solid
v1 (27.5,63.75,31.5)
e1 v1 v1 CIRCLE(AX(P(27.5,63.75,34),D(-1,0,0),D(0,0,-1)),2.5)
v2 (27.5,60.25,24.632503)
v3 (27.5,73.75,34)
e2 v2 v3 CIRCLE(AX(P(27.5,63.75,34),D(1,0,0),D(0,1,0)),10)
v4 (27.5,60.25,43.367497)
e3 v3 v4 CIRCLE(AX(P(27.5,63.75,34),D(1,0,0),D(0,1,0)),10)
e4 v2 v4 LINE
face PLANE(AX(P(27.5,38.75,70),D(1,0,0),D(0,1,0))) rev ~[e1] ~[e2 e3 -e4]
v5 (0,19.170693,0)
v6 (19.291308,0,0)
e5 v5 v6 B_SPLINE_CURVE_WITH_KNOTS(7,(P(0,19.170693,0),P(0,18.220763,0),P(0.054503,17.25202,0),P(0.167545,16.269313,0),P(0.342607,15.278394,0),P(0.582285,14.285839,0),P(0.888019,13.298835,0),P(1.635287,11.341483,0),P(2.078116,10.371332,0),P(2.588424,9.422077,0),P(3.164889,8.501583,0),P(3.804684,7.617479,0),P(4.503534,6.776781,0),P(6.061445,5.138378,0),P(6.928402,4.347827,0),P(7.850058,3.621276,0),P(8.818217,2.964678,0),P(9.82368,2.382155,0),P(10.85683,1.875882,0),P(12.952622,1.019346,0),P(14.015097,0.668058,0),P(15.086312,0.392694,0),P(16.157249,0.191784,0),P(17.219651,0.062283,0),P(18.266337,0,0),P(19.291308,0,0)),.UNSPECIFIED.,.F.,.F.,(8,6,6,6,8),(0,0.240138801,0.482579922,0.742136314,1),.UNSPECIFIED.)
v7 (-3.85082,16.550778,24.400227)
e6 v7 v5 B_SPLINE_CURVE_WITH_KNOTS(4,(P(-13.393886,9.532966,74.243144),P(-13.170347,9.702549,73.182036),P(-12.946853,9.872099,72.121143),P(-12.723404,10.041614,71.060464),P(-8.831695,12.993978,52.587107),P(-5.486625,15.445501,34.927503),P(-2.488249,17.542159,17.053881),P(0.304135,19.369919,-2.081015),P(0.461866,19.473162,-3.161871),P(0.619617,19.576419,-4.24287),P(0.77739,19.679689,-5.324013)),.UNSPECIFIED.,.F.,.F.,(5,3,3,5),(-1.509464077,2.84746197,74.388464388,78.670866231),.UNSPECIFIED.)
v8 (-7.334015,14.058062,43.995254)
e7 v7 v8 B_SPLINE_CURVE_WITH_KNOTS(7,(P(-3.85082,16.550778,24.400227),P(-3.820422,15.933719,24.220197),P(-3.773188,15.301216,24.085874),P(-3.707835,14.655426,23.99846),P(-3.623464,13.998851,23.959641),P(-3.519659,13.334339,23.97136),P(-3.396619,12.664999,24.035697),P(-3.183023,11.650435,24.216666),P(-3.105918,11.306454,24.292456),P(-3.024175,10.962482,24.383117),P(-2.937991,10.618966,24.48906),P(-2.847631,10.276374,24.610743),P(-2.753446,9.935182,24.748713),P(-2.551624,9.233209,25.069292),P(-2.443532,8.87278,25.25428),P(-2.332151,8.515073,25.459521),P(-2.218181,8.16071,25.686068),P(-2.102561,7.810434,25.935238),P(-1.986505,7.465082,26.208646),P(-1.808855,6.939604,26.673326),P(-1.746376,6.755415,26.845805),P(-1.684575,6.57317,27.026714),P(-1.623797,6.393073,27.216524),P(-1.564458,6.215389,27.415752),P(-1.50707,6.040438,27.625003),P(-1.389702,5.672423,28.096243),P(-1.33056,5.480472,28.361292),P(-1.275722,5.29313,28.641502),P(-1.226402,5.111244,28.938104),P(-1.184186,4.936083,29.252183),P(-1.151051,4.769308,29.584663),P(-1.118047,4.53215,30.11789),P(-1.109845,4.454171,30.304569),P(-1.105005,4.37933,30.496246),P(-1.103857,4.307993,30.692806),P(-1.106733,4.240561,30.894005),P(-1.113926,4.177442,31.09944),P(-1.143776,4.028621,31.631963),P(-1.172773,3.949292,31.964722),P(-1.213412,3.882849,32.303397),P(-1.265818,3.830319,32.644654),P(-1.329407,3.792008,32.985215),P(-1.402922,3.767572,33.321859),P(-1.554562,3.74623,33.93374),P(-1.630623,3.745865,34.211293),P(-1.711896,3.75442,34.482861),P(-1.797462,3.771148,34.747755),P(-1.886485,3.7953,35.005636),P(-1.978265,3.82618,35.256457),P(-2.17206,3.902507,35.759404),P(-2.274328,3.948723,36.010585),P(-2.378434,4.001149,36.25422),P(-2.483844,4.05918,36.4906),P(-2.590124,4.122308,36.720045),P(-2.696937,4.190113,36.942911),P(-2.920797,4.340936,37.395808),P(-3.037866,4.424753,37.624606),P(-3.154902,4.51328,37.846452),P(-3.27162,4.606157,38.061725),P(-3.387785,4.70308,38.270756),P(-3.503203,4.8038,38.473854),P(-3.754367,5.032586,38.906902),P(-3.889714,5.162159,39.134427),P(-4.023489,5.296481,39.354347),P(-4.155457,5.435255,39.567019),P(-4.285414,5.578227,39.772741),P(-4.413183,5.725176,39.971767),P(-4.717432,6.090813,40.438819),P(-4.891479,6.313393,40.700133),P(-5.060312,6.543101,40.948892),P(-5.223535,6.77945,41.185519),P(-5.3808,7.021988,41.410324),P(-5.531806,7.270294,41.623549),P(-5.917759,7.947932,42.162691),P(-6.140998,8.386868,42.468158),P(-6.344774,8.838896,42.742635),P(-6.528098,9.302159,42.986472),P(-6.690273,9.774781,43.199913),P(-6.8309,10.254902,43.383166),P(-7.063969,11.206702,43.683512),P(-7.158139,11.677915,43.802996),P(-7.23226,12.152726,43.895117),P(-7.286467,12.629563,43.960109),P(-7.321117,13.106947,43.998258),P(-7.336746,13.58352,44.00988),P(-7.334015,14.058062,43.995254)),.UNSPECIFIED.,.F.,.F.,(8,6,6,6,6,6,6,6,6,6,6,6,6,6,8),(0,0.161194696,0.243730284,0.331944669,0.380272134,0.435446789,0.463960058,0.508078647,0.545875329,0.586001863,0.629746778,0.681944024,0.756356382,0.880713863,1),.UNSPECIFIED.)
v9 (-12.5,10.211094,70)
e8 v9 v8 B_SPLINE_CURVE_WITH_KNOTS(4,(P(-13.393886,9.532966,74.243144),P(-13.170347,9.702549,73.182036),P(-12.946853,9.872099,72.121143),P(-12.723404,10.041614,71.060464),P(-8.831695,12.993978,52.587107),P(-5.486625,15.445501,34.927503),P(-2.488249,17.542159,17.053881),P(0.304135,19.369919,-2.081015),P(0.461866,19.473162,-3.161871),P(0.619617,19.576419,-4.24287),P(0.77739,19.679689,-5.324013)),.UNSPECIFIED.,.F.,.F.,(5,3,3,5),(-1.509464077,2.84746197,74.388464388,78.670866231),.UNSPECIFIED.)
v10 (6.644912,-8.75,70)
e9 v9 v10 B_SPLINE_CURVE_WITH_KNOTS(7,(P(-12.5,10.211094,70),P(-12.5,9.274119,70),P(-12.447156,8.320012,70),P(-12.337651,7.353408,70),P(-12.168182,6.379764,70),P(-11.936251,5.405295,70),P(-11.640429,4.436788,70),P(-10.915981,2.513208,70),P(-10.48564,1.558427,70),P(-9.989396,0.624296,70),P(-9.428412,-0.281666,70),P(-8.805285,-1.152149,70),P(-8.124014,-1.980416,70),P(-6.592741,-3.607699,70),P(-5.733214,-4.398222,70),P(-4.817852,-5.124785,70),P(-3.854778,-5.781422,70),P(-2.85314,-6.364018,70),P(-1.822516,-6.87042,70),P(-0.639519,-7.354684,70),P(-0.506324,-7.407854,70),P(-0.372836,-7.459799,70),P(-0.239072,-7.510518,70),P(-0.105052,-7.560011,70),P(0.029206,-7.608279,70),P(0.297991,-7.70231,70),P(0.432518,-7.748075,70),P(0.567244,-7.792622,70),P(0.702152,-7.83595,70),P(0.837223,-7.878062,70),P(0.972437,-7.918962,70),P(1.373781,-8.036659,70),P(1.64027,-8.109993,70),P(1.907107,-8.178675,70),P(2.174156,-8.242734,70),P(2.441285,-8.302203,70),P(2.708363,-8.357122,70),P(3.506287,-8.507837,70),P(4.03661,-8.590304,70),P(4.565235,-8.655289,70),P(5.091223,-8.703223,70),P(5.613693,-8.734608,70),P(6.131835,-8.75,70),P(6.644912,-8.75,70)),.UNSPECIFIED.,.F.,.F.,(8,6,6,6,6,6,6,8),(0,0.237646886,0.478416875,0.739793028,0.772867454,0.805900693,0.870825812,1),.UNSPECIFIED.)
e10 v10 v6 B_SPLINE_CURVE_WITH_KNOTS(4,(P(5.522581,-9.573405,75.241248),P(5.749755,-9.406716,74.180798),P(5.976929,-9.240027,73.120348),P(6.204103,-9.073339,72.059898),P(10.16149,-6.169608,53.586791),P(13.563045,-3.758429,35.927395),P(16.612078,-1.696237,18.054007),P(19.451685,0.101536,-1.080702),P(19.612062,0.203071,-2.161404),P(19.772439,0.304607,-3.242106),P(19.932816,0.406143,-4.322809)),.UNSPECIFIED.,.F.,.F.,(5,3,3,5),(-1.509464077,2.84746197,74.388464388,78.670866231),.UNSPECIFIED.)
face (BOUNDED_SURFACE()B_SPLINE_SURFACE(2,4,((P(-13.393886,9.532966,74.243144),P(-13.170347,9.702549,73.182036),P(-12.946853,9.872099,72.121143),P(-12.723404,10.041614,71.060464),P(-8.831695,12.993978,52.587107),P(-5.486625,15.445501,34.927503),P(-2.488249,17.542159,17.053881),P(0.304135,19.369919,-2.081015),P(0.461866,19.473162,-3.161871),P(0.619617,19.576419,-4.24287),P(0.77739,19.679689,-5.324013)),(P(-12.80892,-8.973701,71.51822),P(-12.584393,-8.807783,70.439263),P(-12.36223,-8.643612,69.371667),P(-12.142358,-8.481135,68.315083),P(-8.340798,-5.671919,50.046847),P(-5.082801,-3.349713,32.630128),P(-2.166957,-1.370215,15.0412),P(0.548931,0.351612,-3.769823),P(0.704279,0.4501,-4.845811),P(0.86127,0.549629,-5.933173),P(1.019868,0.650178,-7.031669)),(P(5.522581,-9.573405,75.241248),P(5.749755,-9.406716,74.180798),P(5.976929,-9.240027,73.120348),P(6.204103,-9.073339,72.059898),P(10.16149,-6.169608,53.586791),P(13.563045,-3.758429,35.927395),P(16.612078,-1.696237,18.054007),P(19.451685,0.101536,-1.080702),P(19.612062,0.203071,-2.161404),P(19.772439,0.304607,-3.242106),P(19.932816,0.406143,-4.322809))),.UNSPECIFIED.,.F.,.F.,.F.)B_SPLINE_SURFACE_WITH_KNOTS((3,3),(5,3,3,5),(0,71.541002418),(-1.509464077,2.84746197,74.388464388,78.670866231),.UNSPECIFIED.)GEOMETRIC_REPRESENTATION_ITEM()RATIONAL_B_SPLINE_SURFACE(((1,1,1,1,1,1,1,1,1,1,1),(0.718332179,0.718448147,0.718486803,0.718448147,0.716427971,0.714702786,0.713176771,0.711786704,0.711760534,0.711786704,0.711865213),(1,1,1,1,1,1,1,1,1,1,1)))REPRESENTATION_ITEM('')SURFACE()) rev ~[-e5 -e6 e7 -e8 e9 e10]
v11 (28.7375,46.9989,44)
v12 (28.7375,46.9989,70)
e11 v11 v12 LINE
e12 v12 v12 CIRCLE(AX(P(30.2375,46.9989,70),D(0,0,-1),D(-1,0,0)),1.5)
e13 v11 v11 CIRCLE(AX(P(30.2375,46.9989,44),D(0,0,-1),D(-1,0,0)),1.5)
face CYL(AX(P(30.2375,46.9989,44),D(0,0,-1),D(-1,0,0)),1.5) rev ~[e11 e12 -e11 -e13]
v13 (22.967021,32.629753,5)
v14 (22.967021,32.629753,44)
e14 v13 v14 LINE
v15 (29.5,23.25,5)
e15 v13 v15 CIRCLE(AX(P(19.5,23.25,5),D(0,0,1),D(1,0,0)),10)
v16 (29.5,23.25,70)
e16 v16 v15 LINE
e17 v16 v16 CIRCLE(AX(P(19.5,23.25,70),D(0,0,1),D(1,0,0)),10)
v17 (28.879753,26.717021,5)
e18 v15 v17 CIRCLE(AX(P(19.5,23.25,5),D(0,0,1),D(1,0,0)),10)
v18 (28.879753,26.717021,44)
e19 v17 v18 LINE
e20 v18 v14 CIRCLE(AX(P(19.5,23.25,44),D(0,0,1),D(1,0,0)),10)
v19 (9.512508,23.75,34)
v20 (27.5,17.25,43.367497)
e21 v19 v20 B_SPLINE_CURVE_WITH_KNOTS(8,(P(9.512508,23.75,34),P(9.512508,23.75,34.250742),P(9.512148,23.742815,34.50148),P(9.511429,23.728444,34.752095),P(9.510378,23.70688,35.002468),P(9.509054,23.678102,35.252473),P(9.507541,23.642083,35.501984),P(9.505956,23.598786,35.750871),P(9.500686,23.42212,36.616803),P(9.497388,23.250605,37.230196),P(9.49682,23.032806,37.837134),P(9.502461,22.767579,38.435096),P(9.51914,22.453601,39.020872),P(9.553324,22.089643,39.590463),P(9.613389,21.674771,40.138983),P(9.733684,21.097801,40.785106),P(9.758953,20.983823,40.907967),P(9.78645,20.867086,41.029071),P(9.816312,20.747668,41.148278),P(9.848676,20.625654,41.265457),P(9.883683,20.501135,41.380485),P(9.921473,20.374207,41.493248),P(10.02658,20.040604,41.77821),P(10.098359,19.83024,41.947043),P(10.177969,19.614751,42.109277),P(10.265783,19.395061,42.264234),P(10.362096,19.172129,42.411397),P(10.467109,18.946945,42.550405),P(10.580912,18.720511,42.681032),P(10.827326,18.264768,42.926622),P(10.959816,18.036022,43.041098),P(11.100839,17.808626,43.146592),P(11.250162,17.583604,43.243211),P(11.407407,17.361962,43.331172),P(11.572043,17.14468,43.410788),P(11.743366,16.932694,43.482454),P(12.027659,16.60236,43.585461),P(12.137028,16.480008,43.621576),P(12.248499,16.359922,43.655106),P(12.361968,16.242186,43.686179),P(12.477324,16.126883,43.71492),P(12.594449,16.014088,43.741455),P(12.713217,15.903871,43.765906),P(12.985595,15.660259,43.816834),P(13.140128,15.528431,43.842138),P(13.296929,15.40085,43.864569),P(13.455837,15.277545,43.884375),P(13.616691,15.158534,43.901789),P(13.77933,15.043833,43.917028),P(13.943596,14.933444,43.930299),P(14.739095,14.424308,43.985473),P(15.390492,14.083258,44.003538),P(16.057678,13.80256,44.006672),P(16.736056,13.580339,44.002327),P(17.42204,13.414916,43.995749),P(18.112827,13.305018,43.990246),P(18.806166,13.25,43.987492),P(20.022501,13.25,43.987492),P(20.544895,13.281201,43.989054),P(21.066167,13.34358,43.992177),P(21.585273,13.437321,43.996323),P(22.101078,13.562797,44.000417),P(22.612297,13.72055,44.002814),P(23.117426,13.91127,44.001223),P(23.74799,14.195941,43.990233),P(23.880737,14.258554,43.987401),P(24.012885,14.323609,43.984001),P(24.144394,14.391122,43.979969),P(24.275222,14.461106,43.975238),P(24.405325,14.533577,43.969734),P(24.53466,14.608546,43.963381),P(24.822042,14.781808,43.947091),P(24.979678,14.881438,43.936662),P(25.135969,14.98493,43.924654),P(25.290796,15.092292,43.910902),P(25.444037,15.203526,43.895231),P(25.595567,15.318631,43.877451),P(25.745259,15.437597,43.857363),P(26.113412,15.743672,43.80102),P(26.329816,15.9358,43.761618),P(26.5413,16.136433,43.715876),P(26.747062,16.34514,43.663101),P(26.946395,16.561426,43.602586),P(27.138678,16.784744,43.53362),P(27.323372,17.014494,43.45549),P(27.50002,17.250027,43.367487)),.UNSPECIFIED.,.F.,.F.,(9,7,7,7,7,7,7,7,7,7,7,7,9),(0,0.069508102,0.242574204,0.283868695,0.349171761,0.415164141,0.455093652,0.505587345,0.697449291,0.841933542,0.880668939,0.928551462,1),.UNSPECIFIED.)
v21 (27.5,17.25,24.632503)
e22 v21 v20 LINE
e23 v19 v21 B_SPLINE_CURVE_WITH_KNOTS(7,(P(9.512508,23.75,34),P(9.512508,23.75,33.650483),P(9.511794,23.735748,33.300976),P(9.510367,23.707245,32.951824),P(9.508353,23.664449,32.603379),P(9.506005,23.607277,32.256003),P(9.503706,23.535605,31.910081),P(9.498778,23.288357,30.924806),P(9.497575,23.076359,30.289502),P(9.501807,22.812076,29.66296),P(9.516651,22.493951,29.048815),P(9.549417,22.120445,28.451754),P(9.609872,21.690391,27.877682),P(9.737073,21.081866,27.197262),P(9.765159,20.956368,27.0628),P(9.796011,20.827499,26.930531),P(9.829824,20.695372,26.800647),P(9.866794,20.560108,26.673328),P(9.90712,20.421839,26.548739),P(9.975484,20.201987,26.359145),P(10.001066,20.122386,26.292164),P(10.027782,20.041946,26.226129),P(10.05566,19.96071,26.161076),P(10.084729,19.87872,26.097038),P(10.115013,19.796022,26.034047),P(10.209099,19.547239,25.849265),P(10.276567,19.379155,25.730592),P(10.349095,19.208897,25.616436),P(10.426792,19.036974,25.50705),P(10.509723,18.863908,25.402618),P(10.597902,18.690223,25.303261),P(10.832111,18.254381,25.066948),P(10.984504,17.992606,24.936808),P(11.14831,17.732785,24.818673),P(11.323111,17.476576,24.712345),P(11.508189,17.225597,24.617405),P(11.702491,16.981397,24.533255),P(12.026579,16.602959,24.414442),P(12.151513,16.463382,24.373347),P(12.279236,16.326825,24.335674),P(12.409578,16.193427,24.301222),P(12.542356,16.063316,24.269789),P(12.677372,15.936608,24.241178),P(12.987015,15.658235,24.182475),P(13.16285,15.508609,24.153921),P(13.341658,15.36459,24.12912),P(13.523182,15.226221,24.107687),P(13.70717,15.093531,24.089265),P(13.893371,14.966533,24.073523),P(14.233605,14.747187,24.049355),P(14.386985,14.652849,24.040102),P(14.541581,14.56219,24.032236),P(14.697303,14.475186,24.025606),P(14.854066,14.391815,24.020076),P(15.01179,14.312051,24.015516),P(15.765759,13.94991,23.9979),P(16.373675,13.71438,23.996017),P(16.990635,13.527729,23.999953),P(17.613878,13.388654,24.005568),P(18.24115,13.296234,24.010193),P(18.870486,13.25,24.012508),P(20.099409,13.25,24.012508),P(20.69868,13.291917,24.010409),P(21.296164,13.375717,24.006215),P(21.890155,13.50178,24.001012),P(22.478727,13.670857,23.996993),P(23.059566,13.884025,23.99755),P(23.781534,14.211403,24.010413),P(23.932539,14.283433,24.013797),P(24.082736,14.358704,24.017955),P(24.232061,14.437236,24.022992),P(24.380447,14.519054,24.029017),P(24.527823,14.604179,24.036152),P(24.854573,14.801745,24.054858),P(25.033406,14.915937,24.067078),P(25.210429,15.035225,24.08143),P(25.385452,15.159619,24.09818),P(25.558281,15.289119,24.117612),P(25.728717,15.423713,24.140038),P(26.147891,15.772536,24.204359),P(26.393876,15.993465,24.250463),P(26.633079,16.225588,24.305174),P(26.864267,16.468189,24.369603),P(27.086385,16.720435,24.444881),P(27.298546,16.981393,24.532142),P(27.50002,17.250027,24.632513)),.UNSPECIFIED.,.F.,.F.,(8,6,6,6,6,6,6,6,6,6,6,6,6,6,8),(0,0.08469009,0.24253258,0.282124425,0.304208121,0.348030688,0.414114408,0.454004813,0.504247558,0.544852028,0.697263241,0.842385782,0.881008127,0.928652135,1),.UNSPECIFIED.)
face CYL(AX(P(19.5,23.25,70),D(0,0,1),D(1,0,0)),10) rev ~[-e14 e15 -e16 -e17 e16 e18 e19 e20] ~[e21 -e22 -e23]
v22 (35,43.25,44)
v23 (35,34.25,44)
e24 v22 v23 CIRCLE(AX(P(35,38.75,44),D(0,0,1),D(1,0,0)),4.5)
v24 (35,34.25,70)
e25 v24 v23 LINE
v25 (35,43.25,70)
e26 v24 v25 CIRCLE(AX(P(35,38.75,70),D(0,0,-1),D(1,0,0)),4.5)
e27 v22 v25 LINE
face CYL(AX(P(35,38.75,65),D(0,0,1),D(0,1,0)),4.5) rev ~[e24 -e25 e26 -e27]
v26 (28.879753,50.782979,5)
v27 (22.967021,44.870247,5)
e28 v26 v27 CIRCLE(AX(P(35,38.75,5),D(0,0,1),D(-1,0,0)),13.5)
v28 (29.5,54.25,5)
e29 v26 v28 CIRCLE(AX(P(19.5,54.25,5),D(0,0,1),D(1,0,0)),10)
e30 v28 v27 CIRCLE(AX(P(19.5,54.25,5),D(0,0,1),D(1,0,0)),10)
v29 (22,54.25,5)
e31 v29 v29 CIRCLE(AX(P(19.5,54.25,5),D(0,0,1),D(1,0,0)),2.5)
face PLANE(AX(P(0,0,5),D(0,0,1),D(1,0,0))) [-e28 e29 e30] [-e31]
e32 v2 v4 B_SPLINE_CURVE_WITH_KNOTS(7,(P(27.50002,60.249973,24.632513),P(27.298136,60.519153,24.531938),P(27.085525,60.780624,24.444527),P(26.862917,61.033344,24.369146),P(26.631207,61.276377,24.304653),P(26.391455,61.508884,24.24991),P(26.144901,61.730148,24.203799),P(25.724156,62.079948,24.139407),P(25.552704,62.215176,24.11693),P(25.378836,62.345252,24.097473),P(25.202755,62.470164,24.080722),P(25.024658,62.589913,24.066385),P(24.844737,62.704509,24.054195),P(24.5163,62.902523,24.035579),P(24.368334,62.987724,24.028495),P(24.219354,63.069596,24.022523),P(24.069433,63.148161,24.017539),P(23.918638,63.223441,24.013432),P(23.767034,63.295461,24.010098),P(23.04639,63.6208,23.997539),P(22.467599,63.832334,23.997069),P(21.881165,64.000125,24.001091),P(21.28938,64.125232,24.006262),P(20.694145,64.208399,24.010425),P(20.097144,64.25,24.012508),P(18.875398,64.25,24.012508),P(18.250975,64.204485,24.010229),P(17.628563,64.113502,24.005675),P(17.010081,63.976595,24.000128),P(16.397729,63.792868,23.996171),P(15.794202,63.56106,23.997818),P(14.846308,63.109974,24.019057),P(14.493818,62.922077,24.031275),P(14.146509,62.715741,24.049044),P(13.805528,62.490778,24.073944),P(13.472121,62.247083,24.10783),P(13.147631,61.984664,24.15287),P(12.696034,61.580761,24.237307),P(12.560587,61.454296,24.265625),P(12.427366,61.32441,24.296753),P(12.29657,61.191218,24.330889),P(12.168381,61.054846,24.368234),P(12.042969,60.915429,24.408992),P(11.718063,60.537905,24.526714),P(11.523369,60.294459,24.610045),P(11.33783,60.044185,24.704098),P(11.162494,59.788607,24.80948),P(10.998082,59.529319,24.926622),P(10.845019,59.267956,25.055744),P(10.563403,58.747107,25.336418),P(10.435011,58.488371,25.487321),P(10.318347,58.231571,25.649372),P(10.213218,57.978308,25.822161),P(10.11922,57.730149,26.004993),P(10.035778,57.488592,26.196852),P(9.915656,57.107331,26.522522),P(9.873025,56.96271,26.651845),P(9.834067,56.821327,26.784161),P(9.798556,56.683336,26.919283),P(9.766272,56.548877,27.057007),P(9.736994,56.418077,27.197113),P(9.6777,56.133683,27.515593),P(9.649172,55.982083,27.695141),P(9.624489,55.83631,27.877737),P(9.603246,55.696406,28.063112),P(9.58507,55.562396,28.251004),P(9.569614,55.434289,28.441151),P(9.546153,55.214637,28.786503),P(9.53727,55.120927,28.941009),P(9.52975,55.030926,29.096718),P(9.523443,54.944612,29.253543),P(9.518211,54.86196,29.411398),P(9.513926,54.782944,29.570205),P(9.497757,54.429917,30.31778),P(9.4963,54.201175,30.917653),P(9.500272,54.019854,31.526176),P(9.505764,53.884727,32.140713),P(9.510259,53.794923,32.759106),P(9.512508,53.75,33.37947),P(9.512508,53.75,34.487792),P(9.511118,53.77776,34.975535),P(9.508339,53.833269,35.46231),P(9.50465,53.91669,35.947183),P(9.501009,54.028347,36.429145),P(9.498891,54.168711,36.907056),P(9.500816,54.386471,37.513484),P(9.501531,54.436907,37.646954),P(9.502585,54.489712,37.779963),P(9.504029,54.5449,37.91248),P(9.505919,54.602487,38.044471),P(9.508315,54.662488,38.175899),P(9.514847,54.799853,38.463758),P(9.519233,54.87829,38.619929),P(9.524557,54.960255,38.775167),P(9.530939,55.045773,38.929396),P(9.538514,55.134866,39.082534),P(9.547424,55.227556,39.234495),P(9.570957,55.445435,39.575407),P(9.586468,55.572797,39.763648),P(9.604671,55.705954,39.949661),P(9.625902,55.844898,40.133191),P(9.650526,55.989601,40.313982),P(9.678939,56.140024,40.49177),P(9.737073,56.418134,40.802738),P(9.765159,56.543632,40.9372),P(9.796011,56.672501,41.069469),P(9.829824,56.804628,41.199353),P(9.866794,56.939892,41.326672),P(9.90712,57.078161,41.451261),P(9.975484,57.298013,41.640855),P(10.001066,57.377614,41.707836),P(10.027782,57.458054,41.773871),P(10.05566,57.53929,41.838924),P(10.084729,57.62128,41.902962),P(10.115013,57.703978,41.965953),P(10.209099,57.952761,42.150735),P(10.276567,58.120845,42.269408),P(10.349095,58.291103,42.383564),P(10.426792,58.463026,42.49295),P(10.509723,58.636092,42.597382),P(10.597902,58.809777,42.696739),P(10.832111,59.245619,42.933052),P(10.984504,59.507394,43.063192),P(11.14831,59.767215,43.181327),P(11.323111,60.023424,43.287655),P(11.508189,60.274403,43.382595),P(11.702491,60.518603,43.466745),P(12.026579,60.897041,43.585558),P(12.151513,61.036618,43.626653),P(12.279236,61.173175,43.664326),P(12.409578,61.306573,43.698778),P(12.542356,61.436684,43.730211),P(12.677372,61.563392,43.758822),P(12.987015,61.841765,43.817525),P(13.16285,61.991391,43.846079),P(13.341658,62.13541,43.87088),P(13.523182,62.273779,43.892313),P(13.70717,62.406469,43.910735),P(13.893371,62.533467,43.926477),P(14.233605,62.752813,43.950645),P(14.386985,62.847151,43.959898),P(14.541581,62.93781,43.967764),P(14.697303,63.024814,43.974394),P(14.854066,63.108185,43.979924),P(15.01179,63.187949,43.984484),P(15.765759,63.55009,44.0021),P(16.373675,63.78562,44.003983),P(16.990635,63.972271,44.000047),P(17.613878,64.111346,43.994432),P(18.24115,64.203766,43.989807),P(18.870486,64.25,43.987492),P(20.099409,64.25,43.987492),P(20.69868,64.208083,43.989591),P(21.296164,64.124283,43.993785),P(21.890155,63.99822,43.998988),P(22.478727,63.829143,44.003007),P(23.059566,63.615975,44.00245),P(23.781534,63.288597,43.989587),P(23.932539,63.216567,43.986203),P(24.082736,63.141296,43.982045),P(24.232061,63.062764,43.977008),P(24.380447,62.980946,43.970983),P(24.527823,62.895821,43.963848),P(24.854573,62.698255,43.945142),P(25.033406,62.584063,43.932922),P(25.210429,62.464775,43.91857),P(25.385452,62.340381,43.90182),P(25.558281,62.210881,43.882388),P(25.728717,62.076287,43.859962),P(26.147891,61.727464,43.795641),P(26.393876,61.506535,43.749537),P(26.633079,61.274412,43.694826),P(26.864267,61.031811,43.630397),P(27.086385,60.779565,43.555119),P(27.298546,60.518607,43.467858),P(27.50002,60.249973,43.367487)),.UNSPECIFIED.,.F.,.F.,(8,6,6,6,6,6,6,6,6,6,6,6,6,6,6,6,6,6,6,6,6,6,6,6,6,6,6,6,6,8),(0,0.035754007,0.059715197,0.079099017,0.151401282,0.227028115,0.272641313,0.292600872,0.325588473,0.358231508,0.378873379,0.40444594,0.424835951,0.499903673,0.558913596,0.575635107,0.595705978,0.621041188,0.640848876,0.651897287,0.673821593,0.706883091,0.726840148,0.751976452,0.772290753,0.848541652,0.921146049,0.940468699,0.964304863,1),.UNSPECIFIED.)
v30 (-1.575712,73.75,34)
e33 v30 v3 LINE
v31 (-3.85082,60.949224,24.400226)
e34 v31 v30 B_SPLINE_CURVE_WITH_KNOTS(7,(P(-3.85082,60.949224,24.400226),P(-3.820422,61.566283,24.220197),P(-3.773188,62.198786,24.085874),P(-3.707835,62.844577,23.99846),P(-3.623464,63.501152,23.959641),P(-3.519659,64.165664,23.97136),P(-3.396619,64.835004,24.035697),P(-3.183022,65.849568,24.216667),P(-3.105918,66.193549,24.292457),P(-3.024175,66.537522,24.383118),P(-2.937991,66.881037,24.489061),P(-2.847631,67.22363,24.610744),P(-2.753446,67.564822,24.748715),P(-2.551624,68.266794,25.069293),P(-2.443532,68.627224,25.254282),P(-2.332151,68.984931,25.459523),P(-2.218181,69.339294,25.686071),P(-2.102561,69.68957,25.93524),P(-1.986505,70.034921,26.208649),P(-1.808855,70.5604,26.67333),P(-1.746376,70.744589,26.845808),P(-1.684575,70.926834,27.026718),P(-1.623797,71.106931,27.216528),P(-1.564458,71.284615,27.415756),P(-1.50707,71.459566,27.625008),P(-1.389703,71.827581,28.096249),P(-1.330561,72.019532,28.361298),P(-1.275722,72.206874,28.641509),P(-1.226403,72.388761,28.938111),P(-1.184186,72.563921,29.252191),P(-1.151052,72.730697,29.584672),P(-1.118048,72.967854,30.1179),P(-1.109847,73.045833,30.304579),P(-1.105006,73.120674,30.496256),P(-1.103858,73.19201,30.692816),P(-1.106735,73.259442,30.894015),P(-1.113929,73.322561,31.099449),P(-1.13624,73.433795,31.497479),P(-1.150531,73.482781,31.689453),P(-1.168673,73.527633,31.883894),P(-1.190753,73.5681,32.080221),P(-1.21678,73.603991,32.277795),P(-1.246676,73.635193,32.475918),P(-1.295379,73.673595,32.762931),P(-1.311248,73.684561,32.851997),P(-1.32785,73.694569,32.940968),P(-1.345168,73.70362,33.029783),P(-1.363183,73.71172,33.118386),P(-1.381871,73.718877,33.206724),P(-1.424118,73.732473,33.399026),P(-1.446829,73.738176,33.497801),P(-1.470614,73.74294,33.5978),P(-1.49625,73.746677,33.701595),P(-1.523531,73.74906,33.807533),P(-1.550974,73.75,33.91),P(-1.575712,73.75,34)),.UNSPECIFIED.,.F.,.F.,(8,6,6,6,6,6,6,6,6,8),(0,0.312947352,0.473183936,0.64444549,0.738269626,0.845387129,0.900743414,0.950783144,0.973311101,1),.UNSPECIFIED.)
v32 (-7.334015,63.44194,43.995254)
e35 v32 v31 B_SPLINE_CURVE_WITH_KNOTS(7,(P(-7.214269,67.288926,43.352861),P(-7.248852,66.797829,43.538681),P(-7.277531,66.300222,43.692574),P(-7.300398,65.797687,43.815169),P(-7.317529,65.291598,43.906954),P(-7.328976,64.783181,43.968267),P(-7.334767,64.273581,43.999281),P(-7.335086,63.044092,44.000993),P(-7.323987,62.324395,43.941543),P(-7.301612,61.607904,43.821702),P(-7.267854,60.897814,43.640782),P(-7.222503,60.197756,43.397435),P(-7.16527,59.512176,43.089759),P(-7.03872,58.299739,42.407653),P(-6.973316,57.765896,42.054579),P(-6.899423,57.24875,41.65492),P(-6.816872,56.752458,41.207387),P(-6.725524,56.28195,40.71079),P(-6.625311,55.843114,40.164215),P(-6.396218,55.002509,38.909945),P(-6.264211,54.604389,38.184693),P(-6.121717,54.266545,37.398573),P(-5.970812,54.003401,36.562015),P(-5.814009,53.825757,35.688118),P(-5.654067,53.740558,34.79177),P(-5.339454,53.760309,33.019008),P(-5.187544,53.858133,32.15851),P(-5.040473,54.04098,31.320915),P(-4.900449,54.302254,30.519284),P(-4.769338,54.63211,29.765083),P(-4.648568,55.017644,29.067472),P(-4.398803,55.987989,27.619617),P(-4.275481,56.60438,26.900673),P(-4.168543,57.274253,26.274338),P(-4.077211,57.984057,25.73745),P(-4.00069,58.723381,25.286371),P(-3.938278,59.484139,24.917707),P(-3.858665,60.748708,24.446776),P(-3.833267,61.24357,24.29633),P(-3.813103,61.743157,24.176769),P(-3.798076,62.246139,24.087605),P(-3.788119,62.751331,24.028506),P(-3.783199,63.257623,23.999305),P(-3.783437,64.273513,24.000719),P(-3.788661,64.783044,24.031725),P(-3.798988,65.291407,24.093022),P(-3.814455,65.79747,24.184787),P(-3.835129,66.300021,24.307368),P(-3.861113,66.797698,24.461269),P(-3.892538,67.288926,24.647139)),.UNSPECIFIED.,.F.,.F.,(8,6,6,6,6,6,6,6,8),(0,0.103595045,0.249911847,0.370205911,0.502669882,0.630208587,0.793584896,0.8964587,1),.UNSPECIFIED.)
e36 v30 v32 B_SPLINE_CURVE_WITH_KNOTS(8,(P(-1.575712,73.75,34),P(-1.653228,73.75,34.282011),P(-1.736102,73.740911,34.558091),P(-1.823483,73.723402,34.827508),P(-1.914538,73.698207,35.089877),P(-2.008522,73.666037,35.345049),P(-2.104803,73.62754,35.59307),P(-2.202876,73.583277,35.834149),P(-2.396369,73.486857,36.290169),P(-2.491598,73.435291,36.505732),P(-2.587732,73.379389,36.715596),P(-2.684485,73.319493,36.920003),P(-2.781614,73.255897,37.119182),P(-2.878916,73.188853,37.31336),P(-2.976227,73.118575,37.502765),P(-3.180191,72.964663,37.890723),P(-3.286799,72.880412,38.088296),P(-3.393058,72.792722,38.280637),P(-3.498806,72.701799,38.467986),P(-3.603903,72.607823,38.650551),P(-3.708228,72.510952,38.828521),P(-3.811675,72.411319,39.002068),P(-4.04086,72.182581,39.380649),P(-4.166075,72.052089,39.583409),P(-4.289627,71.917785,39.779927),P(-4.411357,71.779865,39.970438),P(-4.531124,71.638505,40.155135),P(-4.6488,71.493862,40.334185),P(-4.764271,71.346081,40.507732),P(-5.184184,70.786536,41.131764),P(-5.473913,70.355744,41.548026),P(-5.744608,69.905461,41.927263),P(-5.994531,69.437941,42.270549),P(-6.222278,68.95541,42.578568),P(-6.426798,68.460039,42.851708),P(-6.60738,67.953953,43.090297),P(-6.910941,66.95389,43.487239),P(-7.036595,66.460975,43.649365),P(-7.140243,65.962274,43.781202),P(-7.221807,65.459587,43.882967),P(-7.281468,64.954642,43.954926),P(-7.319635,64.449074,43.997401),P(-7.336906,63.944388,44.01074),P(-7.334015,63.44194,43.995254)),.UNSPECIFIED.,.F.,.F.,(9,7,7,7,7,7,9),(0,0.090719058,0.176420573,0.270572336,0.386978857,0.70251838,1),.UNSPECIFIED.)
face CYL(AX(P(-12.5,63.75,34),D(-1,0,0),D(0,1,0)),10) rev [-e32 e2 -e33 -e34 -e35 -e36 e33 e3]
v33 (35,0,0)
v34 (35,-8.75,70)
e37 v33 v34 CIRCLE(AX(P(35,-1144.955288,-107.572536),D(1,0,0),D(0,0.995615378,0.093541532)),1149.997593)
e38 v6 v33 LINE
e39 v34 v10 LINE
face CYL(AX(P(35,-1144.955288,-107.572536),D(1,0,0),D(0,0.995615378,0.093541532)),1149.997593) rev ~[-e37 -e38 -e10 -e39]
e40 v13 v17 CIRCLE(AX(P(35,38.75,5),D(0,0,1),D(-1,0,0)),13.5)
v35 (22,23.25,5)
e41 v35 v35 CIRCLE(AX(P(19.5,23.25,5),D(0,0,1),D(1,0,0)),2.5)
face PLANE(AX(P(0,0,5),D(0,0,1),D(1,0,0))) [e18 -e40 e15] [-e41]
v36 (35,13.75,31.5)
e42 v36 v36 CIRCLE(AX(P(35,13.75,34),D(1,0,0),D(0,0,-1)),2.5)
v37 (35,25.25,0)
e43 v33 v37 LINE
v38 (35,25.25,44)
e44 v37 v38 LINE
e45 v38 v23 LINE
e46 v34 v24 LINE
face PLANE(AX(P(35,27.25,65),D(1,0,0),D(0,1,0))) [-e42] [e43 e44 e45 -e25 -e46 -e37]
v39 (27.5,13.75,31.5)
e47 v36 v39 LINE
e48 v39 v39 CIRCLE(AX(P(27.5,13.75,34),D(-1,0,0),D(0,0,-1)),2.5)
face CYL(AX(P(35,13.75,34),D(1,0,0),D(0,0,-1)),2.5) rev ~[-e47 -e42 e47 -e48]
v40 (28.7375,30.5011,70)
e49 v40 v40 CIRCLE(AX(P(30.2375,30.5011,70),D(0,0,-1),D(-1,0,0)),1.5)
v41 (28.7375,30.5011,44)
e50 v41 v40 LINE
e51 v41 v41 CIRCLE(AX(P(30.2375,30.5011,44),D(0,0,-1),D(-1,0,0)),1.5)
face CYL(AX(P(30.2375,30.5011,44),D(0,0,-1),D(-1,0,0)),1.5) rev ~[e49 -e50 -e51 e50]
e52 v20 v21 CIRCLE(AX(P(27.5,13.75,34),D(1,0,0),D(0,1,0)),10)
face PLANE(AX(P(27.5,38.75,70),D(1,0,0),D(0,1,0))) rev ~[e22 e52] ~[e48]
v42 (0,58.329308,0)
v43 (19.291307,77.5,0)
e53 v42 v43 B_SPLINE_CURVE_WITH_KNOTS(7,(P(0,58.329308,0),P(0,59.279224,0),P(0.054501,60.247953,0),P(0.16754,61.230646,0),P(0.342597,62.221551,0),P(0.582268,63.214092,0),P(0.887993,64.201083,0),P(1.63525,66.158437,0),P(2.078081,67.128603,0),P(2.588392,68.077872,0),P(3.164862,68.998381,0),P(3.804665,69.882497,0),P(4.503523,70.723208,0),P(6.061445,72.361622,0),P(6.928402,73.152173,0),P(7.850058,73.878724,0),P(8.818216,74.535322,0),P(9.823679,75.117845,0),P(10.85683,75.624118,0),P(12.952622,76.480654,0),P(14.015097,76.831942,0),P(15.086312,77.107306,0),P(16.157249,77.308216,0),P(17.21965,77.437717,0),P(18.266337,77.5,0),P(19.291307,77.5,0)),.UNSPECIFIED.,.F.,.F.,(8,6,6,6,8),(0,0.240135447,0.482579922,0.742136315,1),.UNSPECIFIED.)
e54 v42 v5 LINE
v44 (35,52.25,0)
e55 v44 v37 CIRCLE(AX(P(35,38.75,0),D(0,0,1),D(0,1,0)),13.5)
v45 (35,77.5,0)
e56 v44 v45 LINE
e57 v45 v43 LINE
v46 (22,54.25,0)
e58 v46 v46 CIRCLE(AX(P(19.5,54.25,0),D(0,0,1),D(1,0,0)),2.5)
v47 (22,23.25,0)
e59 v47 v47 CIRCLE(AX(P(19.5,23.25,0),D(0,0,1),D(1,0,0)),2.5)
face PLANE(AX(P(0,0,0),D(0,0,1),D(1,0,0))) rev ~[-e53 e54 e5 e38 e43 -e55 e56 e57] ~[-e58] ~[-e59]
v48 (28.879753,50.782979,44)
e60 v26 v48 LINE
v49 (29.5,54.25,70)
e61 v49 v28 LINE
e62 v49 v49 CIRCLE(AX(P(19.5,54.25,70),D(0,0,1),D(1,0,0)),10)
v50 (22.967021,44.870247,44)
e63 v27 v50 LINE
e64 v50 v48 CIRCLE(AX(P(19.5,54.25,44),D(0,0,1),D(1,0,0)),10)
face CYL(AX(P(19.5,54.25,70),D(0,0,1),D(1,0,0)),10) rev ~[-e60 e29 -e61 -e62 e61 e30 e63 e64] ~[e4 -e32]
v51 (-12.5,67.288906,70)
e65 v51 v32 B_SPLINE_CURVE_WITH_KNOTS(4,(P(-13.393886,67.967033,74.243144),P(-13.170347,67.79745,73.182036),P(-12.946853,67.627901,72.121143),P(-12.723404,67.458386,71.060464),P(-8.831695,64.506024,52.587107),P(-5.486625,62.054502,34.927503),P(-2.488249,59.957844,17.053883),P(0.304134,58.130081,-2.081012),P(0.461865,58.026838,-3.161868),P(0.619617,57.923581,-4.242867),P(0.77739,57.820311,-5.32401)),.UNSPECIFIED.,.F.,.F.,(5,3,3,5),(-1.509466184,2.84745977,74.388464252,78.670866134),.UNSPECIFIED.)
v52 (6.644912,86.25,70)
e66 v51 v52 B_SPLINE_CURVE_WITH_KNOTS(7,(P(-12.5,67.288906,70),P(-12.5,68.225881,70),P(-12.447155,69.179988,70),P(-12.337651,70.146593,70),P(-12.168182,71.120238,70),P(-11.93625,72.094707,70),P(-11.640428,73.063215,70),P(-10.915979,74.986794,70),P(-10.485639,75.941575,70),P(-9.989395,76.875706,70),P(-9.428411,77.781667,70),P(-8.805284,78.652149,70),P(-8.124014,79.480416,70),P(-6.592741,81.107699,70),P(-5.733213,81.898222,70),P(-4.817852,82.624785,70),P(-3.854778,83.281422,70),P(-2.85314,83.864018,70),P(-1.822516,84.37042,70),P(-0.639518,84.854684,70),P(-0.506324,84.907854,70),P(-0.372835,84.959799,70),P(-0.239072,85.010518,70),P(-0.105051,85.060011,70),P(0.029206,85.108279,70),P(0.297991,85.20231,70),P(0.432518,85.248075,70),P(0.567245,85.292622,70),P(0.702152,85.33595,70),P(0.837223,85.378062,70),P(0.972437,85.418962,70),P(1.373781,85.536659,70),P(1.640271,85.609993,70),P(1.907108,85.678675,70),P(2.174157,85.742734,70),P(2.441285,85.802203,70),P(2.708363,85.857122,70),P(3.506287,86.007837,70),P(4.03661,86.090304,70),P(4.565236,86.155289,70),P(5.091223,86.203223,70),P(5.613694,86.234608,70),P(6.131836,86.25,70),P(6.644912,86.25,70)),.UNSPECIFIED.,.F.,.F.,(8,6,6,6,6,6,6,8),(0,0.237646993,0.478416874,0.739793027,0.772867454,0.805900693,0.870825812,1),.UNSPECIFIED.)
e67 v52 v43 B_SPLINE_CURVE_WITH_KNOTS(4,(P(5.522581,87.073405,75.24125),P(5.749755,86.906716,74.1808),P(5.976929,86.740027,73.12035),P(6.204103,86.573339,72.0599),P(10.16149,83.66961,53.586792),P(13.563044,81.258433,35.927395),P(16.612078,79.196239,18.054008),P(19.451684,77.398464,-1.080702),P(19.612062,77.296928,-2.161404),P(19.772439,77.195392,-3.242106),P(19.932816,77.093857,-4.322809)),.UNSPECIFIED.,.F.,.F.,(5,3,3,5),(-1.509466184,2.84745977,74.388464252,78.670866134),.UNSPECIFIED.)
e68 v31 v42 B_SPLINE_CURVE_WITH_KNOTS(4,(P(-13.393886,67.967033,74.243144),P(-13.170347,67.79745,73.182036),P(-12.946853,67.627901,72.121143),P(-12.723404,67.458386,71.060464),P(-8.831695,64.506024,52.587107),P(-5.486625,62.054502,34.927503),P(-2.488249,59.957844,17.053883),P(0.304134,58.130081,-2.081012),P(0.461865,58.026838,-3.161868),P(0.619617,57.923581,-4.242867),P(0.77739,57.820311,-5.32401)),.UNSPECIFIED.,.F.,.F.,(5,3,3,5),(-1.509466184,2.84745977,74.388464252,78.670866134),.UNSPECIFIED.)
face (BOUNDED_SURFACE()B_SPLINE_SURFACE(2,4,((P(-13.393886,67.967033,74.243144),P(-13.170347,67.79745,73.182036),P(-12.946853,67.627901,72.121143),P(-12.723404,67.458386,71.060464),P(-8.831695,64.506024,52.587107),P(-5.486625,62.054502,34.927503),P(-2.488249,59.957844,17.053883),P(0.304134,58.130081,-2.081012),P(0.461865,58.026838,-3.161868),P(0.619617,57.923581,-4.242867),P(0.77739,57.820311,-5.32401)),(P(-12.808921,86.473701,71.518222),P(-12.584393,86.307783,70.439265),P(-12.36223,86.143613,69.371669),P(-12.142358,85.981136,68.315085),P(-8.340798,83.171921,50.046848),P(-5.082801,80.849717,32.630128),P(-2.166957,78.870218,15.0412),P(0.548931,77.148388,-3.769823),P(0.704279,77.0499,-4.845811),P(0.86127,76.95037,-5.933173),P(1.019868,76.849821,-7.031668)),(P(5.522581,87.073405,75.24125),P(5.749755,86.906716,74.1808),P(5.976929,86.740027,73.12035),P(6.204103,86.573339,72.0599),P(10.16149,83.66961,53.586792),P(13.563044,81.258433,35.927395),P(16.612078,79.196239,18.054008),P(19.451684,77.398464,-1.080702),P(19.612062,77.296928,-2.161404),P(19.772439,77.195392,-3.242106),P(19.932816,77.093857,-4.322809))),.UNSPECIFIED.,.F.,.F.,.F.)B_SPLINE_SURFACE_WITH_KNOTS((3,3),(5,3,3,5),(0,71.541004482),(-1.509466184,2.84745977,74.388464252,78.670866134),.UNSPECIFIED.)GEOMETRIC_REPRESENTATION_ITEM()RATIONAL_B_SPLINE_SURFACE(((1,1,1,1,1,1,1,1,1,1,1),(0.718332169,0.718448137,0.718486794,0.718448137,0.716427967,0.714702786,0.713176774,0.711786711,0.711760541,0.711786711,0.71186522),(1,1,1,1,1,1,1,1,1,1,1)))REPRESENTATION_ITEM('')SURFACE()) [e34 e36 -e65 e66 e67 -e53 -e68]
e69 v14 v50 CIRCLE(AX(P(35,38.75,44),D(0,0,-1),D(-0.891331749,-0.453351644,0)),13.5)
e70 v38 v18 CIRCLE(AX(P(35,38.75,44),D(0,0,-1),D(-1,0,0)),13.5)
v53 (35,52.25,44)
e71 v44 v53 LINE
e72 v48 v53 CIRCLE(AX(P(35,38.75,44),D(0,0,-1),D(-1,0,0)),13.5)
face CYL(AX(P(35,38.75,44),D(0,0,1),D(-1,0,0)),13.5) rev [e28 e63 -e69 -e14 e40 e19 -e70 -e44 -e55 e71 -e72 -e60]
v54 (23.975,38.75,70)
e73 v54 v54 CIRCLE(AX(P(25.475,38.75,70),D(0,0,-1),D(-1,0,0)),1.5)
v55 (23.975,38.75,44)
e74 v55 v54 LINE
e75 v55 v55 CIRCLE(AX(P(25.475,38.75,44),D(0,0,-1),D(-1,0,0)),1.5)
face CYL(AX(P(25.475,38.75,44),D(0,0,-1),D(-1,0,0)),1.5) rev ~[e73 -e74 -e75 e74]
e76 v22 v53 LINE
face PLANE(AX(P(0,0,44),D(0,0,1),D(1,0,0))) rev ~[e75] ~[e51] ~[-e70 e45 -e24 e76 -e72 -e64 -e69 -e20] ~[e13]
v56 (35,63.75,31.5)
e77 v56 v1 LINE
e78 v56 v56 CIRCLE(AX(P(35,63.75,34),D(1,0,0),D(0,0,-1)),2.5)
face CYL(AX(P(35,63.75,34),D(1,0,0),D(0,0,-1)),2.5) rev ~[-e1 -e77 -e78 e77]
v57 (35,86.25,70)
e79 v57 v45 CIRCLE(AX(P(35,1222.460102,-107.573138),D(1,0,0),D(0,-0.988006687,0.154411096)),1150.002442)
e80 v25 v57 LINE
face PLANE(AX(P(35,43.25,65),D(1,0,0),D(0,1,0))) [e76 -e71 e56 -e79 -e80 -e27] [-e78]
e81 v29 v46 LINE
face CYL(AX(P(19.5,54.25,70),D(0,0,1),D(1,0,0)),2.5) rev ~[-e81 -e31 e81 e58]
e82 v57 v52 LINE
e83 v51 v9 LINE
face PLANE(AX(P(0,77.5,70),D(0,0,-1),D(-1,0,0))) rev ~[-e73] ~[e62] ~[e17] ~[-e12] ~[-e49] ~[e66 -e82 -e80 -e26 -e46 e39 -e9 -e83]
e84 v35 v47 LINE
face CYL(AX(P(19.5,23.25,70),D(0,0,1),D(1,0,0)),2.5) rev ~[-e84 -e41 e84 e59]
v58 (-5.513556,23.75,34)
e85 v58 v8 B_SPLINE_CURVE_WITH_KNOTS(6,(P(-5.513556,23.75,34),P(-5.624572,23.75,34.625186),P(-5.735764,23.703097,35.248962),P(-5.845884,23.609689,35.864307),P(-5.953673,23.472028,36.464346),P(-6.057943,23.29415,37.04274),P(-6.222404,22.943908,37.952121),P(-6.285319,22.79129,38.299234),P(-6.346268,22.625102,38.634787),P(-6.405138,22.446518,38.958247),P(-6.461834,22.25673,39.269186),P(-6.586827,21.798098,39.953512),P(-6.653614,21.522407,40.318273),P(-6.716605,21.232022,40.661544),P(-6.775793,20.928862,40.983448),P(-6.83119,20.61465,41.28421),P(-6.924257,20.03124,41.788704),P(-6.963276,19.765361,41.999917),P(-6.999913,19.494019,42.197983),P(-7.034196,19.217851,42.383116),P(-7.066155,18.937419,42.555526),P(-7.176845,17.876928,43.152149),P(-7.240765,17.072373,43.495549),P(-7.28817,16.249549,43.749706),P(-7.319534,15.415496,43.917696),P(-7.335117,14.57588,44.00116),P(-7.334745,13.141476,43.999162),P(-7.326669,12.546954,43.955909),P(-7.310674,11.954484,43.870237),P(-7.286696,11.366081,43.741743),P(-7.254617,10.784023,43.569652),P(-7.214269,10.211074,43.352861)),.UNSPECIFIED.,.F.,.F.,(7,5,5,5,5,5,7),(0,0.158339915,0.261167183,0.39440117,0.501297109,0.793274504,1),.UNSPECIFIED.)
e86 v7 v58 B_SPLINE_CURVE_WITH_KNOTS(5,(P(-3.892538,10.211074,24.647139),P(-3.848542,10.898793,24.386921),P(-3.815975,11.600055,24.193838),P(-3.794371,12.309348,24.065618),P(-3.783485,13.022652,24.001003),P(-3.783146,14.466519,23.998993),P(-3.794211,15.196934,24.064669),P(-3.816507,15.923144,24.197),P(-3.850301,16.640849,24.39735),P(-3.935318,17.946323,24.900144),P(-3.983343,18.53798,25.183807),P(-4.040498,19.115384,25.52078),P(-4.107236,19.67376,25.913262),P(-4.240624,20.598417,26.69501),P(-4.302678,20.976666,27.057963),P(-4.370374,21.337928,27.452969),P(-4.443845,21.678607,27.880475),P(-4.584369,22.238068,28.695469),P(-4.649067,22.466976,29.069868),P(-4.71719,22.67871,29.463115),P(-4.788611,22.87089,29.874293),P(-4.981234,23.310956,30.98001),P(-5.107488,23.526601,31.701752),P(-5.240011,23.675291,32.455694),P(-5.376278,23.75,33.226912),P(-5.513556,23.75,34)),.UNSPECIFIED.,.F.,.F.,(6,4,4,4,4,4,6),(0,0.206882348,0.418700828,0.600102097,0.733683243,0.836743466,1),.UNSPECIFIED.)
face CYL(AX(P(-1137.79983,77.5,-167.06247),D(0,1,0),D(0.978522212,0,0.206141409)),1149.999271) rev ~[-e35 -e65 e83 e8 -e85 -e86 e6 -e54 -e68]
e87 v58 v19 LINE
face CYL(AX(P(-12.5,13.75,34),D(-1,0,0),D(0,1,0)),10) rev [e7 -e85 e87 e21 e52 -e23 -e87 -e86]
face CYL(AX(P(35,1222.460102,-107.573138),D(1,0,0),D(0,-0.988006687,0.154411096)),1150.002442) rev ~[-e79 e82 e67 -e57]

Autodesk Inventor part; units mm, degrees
sketch "Sketch1" plane through (0, 0, 0) normal (0, 0, 1) x (1, 0, 0)
  line L0 (0, 0) -> (70, 0)
  line L1 (70, 0) -> (70, 77.5)
  line L2 (70, 77.5) -> (0, 77.5)
  line L3 (0, 77.5) -> (0, 0)
  dimension "d0" = 70
  dimension "d1" = 77.5
extrude "Extrusion1" add sketch "Sketch1" along normal blind 70
sketch "Sketch3" plane through (0, 0, 70) normal (0, 0, 1) x (1, 0, 0)
  line L0 (0, 0) -> (70, 0) projected
  line L1 (70, 77.5) -> (0, 77.5) projected
  line L2 (70, 0) -> (35, 0)
  line L3 (35, 0) -> (35, 77.5)
  line L4 (35, 77.5) -> (70, 77.5)
  line L5 (70, 77.5) -> (70, 0)
extrude "Extrusion3" cut sketch "Sketch3" against normal through all
sketch "Sketch4" plane through (0, 77.5, 70) normal (0, 1, 0) x (1, 0, 0)
  line L0 (0, 70) -> (0, 0) projected
  line L1 (0, 0) -> (-12.5, 0)
  line L2 (35, 70) -> (0, 70) projected
  arc A0 (-12.5, 0) -> (0, 70) centre (-1137.8005, 237.0626) ccw
  line L3 (-12.5, -10) -> (35, -10) construction
  dimension "d9" = 1150
  dimension "d54" = 47.5
  dimension "d55" = 10
extrude "Extrusion4" add sketch "Sketch4" against normal blind 77.5
sketch "Sketch5" plane through (35, 0, 70) normal (1, 0, 0) x (0, 0, -1)
  line L0 (0, 77.5) -> (0, 86.25)
  line L1 (0, 0) -> (0, -8.75)
  line L2 (0, 0) -> (0, 77.5) projected
  line L3 (70, 77.5) -> (70, 0) projected
  arc A0 (0, 86.25) -> (70, 77.5) centre (177.5728, 1222.4577) ccw
  arc A1 (70, 0) -> (0, -8.75) centre (177.5728, -1144.9577) ccw
  line L4 (0, 77.5) -> (70, 77.5) projected
  line L5 (70, 0) -> (0, 0) projected
  line L6 (-10, 86.25) -> (-10, -8.75) construction
  point P0 (-10, 38.75)
  point P1 (0, 38.75)
  dimension "d14" = 1150
  dimension "d15" = 1150
  dimension "d52" = 10
  dimension "d53" = 95
extrude "Extrusion5" add sketch "Sketch5" against normal blind 55 contours L0 A0 L4 | L5 A1 L1
sketch "Sketch6" plane through (-20, 0, 0) normal (0, 1, 0) x (1, 0, 0)
  line L0 (20, 0) -> (0, 0) projected
  line L1 (0, -70) -> (0, 0) projected
  arc A0 (7.5, -70) -> (20, 0) centre (-1117.8005, 167.0626) ccw projected
  line L2 (7.5, -70) -> (0, -70) projected
extrude "Extrusion6" cut sketch "Sketch6" along normal through all both and the other way through all
fillet "Fillet3" radius 19.35 2 edges at (-5.7463, 81.368, 35.3063) (-5.7463, -3.868, 35.3063)
ref_plane "Work Plane3" through (0, 0, 65) normal (0, 0, 1) x (1, 0, 0)
sketch "Sketch24" plane through (0, 0, 65) normal (0, 0, 1) x (1, 0, 0)
  line L0 (35, 77.5) -> (35, 0) projected
  circle A0 centre (35, 38.75) radius 11.5
  point P0 (0, 0)
  dimension "d85" = 23
extrude "Extrusion20" cut sketch "Sketch24" against normal blind 9
sketch "Sketch26" plane through (0, 0, 70) normal (0, 0, 1) x (1, 0, 0)
  line L0 (35, 77.5) -> (35, 0) projected
  circle A0 centre (35, 38.75) radius 4.5
  point P0 (0, 0)
  dimension "d88" = 9
extrude "Extrusion21" cut sketch "Sketch26" against normal blind 50
ref_plane "Work Plane4" through (0, 0, 35) normal (0, 0, 1) x (1, 0, 0)
sketch "Sketch28" plane through (0, 0, 35) normal (0, 0, 1) x (1, 0, 0)
  line L0 (35, 43.25) -> (35, 34.25) projected
  circle A0 centre (35, 38.75) radius 11.5
  point P0 (0, 0)
  dimension "d92" = 23
extrude "Extrusion22" cut sketch "Sketch28" along normal blind 9
sketch "Sketch29" plane through (0, 0, 35) normal (0, 0, 1) x (1, 0, 0)
  line L0 (35, 43.25) -> (35, 34.25)
  circle A0 centre (35, 38.75) radius 11.5
  point P0 (0, 0)
  dimension "d96" = 23
extrude "Extrusion23" cut sketch "Sketch29" against normal through all
ref_plane "Work Plane6" through (-12.5, 38.75, 70) normal (1, 0, 0) x (0, 1, 0)
sketch "Sketch32" plane through (0, 0, 70) normal (0, 0, 1) x (1, 0, 0)
  circle A0 centre (19.5, 23.25) radius 2.5
  circle A1 centre (19.5, 54.25) radius 2.5
  line L0 (19.5, 54.25) -> (19.5, 23.25) construction
  arc A2 (35, 43.25) -> (35, 34.25) centre (35, 38.75) ccw projected
  line L1 (35, 86.25) -> (35, 43.25) projected
  point P0 (0, 0)
  point P1 (19.5, 38.75)
  dimension "d105" = 5
  dimension "d106" = 5
  dimension "d107" = 15.5
  dimension "d108" = 31
extrude "Extrusion26" cut sketch "Sketch32" against normal through all
sketch "Sketch33" plane through (0, 0, 70) normal (0, 0, 1) x (1, 0, 0)
  circle A0 centre (19.5, 54.25) radius 2.5 projected
  circle A1 centre (19.5, 23.25) radius 2.5 projected
  circle A2 centre (19.5, 54.25) radius 10
  circle A3 centre (19.5, 23.25) radius 10
  point P0 (0, 0)
  dimension "d111" = 20
  dimension "d112" = 20
extrude "Extrusion27" cut sketch "Sketch33" against normal blind 65
sketch "Sketch34" plane through (35, 50.25, 65) normal (1, 0, 0) x (0, 0, -1)
  circle A0 centre (31, 13.5) radius 2.5
  circle A1 centre (31, -36.5) radius 2.5
  line L0 (31, -36.5) -> (31, 13.5) construction
  line L1 (-5, -16) -> (-5, -7) projected
  line L2 (21, -7) -> (21, 0) projected
  point P0 (65, -50.25)
  point P1 (31, -11.5)
  point P2 (-5, -11.5)
  dimension "d115" = 5
  dimension "d116" = 5
  dimension "d117" = 50
  dimension "d118" = 10
extrude "Extrusion28" cut sketch "Sketch34" against normal through all
sketch "Sketch35" plane through (-12.5, 38.75, 70) normal (1, 0, 0) x (0, 1, 0)
  circle A0 centre (25, -36) radius 2.5 projected
  circle A1 centre (-25, -36) radius 2.5 projected
  circle A2 centre (25, -36) radius 10
  circle A3 centre (-25, -36) radius 10
  point P0 (-38.75, -70)
  dimension "d121" = 20
  dimension "d122" = 20
extrude "Extrusion29" cut sketch "Sketch35" along normal blind 40
sketch "Sketch36" plane through (0, 0, 44) normal (0, 0, -1) x (-1, 0, 0)
  arc A0 (-35, 34.25) -> (-35, 43.25) centre (-35, 38.75) ccw projected
  circle A1 centre (-35, 38.75) radius 13.5
  point P0 (0, 0)
  dimension "d125" = 27
extrude "Extrusion30" cut sketch "Sketch36" along normal through all
sketch "Sketch38" plane through (0, 0, 65) normal (0, 0, 1) x (1, 0, 0)
  arc A0 (35, 43.25) -> (35, 34.25) centre (35, 38.75) ccw projected
  line L0 (35, 27.25) -> (35, 34.25) projected
  arc A1 (35, 50.25) -> (35, 27.25) centre (35, 38.75) ccw projected
  line L1 (35, 43.25) -> (35, 50.25) projected
  point P0 (0, 0)
extrude "Extrusion32" add sketch "Sketch38" against normal blind 9
sketch "Sketch37" plane through (0, 0, 44) normal (0, 0, -1) x (-1, 0, 0)
  circle A0 centre (-25.475, 38.75) radius 1.5
  arc A1 (-35, 34.25) -> (-35, 43.25) centre (-35, 38.75) ccw projected
  circle A2 centre (-30.2375, 46.9989) radius 1.5
  circle A3 centre (-39.7625, 46.9989) radius 1.5
  circle A4 centre (-44.525, 38.75) radius 1.5
  circle A5 centre (-39.7625, 30.5011) radius 1.5
  circle A6 centre (-30.2375, 30.5011) radius 1.5
  point P0 (0, 0)
  dimension "d128" = 3
  dimension "d129" = 9.525
  dimension "d132" = 360
extrude "Extrusion31" cut sketch "Sketch37" against normal through all
properties part number "AA016" material "ABS Plastic"
